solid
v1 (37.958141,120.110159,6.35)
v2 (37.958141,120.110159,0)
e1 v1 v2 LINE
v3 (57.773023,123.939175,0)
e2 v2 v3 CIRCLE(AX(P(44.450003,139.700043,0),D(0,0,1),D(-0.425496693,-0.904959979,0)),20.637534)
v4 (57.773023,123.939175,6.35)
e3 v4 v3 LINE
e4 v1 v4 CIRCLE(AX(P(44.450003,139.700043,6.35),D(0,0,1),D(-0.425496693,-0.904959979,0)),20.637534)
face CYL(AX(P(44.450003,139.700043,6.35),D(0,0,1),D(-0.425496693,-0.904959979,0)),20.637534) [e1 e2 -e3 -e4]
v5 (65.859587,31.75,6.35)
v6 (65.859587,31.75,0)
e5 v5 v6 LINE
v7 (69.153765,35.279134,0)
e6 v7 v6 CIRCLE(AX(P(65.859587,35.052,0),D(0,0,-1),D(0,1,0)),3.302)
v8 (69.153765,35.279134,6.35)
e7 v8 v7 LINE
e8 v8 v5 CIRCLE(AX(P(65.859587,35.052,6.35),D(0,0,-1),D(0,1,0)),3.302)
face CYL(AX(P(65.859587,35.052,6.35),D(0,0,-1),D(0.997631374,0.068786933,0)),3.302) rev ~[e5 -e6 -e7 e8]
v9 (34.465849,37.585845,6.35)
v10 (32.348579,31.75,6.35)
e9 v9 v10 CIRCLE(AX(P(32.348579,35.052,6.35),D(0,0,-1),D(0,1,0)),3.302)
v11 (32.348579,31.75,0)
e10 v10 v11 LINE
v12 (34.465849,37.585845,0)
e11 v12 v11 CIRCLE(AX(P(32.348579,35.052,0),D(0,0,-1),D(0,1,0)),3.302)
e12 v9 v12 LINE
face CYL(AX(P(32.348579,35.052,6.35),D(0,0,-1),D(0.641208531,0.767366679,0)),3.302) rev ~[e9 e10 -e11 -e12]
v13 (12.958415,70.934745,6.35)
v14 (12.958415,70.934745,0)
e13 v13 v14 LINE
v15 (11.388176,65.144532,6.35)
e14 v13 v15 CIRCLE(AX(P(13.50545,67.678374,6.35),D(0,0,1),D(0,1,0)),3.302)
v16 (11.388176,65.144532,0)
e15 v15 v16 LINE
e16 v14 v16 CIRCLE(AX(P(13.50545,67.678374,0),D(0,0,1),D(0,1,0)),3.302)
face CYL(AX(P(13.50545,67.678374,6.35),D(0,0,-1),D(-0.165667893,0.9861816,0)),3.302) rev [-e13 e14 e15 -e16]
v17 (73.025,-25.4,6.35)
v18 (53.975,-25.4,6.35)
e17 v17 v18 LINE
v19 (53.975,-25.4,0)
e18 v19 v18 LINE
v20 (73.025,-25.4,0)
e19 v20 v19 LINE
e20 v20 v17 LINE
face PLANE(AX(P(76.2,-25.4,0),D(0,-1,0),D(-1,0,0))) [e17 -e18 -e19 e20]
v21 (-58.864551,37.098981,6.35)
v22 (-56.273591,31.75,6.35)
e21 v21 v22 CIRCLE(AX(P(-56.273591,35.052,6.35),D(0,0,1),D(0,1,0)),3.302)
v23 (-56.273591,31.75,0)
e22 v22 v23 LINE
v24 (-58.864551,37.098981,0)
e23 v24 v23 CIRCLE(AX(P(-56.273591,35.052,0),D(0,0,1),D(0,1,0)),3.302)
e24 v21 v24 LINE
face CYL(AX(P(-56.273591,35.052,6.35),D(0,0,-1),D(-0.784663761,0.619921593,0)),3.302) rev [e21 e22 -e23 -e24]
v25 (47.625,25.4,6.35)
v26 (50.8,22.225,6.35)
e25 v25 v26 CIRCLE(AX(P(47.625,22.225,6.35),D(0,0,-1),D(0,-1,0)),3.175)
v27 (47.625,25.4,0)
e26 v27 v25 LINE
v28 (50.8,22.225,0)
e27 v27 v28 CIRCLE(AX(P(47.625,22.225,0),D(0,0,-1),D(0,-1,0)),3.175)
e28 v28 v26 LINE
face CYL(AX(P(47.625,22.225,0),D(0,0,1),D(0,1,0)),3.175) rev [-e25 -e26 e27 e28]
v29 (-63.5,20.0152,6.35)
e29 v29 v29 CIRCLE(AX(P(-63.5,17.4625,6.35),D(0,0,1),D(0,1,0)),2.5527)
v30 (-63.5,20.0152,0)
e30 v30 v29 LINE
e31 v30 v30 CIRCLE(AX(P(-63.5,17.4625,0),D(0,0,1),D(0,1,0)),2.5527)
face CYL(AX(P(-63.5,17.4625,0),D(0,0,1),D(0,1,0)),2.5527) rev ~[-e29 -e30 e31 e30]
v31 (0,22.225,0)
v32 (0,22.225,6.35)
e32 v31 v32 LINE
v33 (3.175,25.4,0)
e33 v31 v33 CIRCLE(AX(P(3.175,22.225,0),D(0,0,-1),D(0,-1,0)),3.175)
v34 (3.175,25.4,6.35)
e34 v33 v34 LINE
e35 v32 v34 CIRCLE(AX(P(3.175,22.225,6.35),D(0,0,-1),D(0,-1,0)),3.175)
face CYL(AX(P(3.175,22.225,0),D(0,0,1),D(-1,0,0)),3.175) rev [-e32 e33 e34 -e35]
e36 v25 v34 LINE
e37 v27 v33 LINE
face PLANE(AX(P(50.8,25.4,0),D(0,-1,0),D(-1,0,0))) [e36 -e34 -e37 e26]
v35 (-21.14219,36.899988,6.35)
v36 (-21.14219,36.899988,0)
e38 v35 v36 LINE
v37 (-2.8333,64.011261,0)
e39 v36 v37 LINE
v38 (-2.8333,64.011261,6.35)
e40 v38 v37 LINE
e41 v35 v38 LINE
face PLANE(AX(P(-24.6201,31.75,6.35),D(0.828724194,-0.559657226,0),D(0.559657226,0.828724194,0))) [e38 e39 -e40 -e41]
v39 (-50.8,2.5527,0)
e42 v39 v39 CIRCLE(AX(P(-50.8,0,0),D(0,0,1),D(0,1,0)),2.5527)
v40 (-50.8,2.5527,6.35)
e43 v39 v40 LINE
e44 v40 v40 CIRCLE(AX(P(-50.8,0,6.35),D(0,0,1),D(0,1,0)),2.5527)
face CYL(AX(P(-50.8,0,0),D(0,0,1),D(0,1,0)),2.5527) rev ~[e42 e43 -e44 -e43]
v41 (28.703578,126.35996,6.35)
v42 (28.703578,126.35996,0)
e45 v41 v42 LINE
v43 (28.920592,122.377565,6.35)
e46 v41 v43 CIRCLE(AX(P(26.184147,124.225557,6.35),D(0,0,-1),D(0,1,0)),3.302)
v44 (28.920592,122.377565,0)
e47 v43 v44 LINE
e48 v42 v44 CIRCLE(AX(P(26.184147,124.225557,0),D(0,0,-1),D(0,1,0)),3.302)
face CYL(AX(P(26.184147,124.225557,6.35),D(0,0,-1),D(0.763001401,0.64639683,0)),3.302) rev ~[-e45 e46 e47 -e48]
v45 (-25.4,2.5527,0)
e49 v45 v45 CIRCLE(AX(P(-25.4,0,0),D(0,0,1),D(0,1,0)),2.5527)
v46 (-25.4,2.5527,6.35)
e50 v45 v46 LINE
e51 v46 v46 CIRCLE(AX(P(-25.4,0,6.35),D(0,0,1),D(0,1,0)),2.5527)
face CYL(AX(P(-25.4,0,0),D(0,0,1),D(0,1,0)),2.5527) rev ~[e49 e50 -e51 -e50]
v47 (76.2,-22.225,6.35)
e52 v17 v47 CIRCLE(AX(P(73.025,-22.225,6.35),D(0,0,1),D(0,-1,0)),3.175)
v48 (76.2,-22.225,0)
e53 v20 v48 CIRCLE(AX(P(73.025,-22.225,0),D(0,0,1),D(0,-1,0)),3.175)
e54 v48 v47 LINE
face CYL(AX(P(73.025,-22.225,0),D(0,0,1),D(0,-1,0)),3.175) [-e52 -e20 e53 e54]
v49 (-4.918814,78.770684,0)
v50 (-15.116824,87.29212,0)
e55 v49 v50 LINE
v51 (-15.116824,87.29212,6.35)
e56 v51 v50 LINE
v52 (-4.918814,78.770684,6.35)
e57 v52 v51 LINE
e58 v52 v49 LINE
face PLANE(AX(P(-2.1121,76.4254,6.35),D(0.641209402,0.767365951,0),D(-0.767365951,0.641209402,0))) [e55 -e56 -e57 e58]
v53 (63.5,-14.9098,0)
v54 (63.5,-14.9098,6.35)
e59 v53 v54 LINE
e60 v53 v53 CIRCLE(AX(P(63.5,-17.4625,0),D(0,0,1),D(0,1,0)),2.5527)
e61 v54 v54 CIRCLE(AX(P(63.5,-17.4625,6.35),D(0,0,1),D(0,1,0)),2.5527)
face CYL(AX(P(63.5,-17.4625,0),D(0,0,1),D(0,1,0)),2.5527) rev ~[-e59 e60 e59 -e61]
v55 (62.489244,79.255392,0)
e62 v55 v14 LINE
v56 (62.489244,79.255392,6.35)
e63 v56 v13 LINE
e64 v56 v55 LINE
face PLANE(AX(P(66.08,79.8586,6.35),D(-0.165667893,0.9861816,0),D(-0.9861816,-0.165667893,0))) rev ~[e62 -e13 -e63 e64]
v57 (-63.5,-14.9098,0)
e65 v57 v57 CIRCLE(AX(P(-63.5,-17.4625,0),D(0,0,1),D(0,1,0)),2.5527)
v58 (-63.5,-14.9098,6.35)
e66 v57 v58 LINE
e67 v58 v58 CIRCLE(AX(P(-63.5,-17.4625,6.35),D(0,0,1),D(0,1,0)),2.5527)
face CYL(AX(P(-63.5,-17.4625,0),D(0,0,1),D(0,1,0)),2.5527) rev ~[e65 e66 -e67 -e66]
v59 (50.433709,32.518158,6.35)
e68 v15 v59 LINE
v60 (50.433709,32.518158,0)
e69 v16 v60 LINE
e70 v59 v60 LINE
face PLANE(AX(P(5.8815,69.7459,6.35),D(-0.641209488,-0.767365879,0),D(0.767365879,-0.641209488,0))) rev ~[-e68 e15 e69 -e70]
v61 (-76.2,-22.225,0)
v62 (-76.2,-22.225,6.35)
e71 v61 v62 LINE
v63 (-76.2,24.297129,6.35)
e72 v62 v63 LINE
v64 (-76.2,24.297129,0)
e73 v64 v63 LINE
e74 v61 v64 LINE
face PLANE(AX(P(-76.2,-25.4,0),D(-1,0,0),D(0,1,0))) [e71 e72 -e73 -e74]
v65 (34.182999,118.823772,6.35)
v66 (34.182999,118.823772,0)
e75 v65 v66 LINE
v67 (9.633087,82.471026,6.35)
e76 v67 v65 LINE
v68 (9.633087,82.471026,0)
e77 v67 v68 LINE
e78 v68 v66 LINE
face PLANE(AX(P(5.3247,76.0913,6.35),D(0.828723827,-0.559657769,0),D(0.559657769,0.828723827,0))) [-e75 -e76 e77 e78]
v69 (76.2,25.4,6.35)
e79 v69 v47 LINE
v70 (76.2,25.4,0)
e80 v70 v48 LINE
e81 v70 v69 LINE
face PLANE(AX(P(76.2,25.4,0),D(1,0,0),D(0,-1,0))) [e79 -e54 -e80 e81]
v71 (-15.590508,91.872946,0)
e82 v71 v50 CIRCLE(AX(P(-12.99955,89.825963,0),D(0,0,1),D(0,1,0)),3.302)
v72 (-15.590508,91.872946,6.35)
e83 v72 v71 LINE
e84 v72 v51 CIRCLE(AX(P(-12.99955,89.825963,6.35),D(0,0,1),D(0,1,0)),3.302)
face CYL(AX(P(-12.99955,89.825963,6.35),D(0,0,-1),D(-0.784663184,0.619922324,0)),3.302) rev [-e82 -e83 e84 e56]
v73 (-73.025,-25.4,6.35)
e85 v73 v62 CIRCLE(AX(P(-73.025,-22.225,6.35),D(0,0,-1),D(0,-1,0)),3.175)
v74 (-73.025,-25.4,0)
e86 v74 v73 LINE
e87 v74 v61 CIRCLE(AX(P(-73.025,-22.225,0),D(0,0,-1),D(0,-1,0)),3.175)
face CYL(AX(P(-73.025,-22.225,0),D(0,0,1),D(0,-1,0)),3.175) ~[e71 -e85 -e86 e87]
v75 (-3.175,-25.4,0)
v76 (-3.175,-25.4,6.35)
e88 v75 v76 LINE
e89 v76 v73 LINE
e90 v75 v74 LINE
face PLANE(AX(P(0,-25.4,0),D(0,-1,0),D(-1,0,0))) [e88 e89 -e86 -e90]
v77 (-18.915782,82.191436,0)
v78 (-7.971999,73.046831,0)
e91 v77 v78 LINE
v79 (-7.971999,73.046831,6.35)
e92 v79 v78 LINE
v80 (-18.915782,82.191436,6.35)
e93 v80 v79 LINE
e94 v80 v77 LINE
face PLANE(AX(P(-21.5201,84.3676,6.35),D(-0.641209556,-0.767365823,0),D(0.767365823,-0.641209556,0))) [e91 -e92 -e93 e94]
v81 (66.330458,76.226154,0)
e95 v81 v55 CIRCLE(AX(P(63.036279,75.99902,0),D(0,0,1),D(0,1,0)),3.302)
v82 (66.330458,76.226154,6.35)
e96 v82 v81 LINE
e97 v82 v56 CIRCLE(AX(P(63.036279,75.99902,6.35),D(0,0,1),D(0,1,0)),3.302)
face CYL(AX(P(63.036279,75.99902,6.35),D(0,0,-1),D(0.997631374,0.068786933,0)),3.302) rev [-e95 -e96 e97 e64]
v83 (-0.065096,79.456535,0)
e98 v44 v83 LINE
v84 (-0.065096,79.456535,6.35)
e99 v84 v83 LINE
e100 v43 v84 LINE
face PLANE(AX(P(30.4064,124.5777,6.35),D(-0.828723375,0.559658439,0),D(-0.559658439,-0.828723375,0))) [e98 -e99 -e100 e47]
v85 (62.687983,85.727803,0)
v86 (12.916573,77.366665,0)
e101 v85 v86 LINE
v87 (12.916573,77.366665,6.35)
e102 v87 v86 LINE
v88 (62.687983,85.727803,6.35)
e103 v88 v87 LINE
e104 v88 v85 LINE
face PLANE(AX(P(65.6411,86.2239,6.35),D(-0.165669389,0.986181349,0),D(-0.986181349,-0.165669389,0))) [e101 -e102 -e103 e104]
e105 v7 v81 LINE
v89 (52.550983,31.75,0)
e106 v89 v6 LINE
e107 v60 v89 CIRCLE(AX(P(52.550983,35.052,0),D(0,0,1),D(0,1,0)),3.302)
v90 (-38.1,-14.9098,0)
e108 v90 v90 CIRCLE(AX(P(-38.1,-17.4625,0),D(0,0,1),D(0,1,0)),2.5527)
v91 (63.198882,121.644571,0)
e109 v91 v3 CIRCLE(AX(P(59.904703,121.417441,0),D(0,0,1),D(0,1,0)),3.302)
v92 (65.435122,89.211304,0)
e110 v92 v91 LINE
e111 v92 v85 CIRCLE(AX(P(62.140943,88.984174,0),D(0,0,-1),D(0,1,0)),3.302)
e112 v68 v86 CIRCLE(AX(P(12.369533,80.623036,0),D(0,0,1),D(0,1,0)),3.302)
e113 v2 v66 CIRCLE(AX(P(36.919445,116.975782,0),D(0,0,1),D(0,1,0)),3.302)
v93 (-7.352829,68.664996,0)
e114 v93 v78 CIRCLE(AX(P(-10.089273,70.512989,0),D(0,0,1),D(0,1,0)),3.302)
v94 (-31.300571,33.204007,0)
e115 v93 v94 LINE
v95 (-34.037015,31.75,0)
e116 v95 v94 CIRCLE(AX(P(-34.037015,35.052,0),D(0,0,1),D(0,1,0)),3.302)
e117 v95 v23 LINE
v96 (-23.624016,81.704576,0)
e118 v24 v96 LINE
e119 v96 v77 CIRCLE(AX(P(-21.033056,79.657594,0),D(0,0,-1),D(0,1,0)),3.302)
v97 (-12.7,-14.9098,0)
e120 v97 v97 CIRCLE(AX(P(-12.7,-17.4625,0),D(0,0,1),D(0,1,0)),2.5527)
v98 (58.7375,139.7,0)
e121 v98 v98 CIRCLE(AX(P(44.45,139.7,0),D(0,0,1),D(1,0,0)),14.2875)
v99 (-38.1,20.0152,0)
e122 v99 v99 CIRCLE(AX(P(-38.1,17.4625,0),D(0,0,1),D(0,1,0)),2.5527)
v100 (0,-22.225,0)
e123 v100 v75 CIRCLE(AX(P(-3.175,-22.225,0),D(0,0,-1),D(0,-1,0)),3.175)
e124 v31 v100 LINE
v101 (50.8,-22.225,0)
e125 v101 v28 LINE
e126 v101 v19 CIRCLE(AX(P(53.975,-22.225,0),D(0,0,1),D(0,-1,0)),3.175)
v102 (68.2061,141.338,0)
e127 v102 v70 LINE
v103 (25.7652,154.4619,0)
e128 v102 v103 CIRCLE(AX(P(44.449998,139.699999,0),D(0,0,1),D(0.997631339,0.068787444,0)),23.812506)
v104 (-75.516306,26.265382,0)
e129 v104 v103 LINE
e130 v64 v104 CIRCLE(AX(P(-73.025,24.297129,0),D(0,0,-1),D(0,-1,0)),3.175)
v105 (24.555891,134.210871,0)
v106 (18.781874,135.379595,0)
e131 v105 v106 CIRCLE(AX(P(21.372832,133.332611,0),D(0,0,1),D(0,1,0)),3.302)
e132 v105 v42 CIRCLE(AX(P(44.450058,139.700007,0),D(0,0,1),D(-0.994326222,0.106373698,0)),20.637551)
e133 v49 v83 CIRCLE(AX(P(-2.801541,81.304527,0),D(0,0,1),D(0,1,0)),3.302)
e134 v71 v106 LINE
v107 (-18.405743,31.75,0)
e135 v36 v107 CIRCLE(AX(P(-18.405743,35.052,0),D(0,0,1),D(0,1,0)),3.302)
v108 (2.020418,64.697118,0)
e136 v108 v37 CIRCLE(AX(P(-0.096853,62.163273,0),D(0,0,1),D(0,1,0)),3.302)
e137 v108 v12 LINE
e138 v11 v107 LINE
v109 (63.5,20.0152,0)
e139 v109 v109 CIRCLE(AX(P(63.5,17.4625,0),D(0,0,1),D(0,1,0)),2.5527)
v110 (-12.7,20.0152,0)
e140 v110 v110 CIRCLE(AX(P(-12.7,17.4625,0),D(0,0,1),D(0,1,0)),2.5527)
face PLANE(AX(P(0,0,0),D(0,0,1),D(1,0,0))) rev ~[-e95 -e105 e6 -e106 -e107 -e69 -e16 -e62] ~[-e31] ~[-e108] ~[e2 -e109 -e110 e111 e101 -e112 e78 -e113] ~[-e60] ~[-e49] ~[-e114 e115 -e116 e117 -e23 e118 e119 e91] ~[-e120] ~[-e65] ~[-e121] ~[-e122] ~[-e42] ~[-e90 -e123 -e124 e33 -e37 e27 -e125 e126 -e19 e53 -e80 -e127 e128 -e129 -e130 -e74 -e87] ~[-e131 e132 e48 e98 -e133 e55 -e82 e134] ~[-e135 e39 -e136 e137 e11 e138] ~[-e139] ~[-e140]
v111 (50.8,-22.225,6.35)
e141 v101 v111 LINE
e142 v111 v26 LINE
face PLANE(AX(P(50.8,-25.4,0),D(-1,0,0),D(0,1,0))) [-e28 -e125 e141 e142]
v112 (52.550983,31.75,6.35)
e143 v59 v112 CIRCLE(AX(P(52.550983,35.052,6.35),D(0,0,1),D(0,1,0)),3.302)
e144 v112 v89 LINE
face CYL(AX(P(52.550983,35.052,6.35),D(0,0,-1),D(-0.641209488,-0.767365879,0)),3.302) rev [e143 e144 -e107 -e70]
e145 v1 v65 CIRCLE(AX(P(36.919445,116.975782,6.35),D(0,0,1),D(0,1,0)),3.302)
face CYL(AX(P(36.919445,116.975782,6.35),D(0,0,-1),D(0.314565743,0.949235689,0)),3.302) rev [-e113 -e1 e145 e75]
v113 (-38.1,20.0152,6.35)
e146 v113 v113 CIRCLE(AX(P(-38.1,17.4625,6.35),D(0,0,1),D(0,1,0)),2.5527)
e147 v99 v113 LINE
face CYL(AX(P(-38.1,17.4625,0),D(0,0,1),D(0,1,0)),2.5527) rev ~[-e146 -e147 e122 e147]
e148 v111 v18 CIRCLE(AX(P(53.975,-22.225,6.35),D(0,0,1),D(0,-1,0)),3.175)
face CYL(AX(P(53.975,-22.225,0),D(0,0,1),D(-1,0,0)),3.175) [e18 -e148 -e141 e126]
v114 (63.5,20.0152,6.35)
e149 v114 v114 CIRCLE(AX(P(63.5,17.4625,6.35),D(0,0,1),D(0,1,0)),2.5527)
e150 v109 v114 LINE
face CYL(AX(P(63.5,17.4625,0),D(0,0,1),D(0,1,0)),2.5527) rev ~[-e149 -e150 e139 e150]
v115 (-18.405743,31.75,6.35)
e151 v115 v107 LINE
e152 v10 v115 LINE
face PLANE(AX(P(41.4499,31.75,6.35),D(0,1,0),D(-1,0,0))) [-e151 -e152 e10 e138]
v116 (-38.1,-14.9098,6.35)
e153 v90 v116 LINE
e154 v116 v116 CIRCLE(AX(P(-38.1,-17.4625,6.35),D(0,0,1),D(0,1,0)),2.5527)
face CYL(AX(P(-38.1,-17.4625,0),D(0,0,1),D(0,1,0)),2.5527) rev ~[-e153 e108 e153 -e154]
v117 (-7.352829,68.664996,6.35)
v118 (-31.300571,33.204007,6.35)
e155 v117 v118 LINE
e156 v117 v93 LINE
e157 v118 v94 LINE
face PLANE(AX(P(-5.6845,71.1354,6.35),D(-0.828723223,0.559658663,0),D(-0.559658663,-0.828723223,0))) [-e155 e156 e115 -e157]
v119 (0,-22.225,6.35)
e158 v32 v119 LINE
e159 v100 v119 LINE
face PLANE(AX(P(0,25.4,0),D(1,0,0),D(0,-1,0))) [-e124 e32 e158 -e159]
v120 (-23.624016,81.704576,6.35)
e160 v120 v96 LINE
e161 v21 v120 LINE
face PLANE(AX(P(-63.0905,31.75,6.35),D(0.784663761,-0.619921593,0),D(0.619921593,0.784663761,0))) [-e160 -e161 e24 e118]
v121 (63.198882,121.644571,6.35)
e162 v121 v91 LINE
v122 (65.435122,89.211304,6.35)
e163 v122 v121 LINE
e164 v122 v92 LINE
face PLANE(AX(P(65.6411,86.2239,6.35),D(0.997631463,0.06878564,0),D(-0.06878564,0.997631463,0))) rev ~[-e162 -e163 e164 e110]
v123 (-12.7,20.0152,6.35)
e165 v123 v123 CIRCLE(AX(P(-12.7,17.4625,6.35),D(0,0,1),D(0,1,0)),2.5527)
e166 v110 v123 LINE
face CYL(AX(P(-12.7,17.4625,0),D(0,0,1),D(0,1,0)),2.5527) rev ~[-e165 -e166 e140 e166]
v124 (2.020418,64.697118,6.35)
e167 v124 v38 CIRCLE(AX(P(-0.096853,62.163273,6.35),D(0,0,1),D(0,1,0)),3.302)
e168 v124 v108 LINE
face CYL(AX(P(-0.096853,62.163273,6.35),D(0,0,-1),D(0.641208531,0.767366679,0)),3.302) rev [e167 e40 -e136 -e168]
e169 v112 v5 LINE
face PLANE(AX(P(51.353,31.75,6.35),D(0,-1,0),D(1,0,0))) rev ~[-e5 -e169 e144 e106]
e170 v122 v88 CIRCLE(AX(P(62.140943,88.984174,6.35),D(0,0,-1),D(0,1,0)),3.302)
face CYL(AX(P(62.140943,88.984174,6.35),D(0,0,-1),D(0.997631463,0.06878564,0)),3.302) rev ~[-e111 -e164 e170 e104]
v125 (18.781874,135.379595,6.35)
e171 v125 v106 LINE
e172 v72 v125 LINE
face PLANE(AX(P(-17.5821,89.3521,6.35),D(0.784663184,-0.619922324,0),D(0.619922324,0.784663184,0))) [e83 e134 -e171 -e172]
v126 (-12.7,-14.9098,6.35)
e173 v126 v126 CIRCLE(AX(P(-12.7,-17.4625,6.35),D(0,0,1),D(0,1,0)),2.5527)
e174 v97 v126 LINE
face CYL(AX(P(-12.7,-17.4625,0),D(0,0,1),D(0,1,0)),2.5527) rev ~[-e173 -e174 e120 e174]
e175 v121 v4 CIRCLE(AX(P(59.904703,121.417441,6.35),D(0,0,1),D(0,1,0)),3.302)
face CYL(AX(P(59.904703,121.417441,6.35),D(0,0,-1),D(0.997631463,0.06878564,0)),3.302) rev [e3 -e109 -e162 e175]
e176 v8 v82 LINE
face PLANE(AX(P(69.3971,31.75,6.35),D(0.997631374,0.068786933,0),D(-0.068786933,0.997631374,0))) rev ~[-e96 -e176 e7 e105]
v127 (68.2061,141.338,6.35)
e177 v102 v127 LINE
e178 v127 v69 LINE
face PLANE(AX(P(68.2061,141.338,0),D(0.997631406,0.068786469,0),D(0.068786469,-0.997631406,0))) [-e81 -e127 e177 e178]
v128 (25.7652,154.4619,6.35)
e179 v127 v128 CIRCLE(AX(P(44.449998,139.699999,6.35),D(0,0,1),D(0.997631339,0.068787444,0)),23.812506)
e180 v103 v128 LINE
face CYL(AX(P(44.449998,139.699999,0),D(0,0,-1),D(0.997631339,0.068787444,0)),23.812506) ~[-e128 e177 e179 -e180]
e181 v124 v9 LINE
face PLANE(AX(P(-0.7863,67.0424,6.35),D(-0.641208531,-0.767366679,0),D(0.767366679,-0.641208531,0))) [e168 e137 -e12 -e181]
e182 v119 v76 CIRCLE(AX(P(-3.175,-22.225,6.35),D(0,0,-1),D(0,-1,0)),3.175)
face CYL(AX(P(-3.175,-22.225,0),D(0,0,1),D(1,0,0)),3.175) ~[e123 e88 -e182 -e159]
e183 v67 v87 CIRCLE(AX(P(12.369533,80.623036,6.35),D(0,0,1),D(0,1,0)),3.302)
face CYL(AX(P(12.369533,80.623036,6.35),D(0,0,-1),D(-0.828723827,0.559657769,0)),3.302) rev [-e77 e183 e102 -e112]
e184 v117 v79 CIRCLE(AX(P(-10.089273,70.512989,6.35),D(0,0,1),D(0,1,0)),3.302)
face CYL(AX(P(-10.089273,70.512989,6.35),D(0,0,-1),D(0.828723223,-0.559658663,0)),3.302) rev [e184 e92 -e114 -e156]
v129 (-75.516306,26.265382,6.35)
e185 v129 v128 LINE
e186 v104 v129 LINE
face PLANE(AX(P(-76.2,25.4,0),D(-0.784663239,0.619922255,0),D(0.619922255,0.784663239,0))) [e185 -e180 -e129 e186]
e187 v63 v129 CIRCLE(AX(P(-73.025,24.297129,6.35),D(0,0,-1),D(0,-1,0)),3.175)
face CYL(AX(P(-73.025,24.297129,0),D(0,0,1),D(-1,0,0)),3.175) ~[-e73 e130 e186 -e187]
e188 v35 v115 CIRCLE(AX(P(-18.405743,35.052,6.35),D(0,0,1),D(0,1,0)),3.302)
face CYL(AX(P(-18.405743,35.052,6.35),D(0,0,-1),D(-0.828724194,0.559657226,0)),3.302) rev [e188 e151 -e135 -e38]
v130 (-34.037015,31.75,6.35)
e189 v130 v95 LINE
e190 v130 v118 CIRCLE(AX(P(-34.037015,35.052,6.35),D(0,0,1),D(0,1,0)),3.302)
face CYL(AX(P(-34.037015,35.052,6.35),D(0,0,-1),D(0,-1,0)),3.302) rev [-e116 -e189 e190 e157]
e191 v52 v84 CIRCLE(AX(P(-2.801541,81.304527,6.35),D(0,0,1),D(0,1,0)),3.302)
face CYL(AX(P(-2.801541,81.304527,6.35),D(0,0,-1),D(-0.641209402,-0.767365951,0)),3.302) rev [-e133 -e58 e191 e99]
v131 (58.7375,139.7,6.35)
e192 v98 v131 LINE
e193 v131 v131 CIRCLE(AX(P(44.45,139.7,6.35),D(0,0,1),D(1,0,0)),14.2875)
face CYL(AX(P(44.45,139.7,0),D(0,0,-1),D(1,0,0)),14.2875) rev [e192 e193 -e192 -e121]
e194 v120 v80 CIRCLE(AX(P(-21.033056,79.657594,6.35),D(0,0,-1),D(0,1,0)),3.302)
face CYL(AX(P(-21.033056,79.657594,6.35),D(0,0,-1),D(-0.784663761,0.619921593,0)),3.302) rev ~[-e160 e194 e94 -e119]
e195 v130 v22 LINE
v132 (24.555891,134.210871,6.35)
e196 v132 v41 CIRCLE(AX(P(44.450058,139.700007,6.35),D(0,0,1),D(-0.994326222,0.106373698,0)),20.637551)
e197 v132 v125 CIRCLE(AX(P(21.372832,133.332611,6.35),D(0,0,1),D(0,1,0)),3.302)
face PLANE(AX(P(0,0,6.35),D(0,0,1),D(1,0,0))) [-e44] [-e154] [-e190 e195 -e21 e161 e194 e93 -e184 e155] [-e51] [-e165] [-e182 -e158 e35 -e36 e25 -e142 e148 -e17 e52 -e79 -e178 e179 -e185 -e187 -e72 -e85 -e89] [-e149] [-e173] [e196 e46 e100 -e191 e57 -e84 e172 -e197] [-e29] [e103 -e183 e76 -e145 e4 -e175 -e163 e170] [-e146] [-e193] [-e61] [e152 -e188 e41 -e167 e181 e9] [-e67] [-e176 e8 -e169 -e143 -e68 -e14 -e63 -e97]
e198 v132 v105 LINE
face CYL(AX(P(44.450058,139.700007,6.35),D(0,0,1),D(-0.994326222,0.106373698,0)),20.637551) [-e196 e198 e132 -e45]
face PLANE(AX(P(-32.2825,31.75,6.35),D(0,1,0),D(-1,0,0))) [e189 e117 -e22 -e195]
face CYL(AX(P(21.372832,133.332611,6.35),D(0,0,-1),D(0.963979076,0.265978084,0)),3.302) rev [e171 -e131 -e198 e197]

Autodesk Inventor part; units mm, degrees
ref_plane "YZ Plane" through (0, 0, 0) normal (1, 0, 0) x (0, 1, 0)
ref_plane "XZ Plane" through (0, 0, 0) normal (0, 1, 0) x (-1, 0, 0)
ref_plane "XY Plane" through (0, 0, 0) normal (0, 0, 1) x (1, 0, 0)
sketch "Sketch1" plane through (0, 0, 0) normal (0, 0, 1) x (1, 0, 0)
  line L0 (-76.2, 25.4) -> (76.2, 25.4) construction
  line L1 (76.2, 25.4) -> (76.2, -25.4) construction
  line L2 (76.2, -25.4) -> (-76.2, -25.4) construction
  line L3 (-76.2, -25.4) -> (-76.2, 25.4) construction
  line L4 (-76.2, 25.4) -> (76.2, -25.4) construction
  line L5 (76.2, 25.4) -> (-76.2, -25.4) construction
  line L6 (63.5, 17.4625) -> (63.5, -17.4625) construction
  line L7 (9.525, 15.875) -> (41.275, 15.875) construction
  line L8 (41.275, 15.875) -> (41.275, -15.875) construction
  line L9 (41.275, -15.875) -> (9.525, -15.875) construction
  line L10 (9.525, -15.875) -> (9.525, 15.875) construction
  line L11 (9.525, 15.875) -> (41.275, -15.875) construction
  line L12 (41.275, 15.875) -> (9.525, -15.875) construction
  line L13 (76.2, 101.6) -> (187.452, 101.6) construction
  line L14 (187.452, 101.6) -> (187.452, -25.4) construction
  line L15 (187.452, -25.4) -> (76.2, -25.4) construction
  line L16 (76.2, -25.4) -> (76.2, 101.6) construction
  line L17 (76.2, 101.6) -> (187.452, -25.4) construction
  line L18 (187.452, 101.6) -> (76.2, -25.4) construction
  point P0 (0, 0)
  point P1 (63.5, 0)
  point P2 (25.4, 0)
  point P3 (50.8, 0)
  point P4 (0, 0)
  point P5 (9.525, 0)
  point P6 (-12.7, 17.4625)
  point P7 (-12.7, -17.4625)
  point P8 (-25.4, 0)
  point P9 (-38.1, 17.4625)
  point P10 (-38.1, -17.4625)
  point P11 (-50.8, 0)
  point P12 (-63.5, 17.4625)
  point P13 (-63.5, -17.4625)
  point P14 (131.826, 38.1)
  dimension "d0" = 152.4
  dimension "d1" = 50.8
  dimension "d2" = 34.925
  dimension "d3" = 12.7
  dimension "d4" = 31.75
  dimension "d5" = 31.75
  dimension "d6" = 34.925
  dimension "d7" = 25.4
  dimension "d8" = 9.525
  dimension "d9" = 12.7
  dimension "d10" = 12.7
  dimension "d11" = 12.7
  dimension "d12" = 12.7
  dimension "d13" = 12.7
  dimension "d14" = 111.252
  dimension "d15" = 127
  dimension "d16" = 76.2
sketch "Sketch2" plane through (0, 0, 0) normal (0, 0, 1) x (1, 0, 0)
  line L0 (63.5, 17.4625) -> (63.5, -17.4625) construction
  line L1 (76.2, 25.4) -> (76.2, -25.4) construction
  line L2 (76.2, -25.4) -> (76.2, 101.6) construction
  line L3 (187.452, -25.4) -> (76.2, -25.4) construction
  line L4 (187.452, 101.6) -> (187.452, -25.4) construction
  line L5 (76.2, 101.6) -> (187.452, -25.4) construction
  line L6 (187.452, 101.6) -> (76.2, -25.4) construction
  line L7 (76.2, 101.6) -> (187.452, 101.6) construction
  line L8 (9.525, 15.875) -> (41.275, 15.875) construction
  line L9 (41.275, 15.875) -> (41.275, -15.875) construction
  line L10 (41.275, -15.875) -> (9.525, -15.875) construction
  line L11 (9.525, -15.875) -> (9.525, 15.875) construction
  line L12 (9.525, 15.875) -> (41.275, -15.875) construction
  line L13 (41.275, 15.875) -> (9.525, -15.875) construction
  line L14 (-76.2, 25.4) -> (76.2, 25.4) construction
  line L15 (76.2, -25.4) -> (-76.2, -25.4) construction
  line L16 (-76.2, 25.4) -> (76.2, -25.4) construction
  line L17 (76.2, 25.4) -> (-76.2, -25.4) construction
  line L18 (-76.2, -25.4) -> (-76.2, 25.4) construction
  line L19 (0, 25.4) -> (0, -25.4)
  line L20 (0, -25.4) -> (-76.2, -25.4)
  line L21 (-76.2, -25.4) -> (-76.2, 25.4)
  line L22 (-76.2, 25.4) -> (25.7652, 154.4619)
  circle A0 centre (44.45, 139.7) radius 14.2875
  circle A1 centre (44.45, 139.7) radius 23.8125 construction
  line L23 (68.2061, 141.338) -> (76.2, 25.4)
  line L24 (76.2, 25.4) -> (76.2, -25.4)
  line L25 (76.2, -25.4) -> (50.8, -25.4)
  line L26 (50.8, -25.4) -> (50.8, 25.4)
  line L27 (50.8, 25.4) -> (0, 25.4)
  arc A2 (68.2061, 141.338) -> (25.7652, 154.4619) centre (44.45, 139.7) ccw
  point P0 (0, 0)
  point P1 (63.5, 0)
  point P2 (131.826, 38.1)
  point P3 (9.525, 0)
  point P4 (0, 0)
  point P5 (25.4, 0)
  point P6 (-63.5, -17.4625)
  point P7 (-63.5, 17.4625)
  point P8 (-50.8, 0)
  point P9 (-38.1, -17.4625)
  point P10 (-38.1, 17.4625)
  point P11 (-25.4, 0)
  point P12 (-12.7, -17.4625)
  point P13 (-12.7, 17.4625)
  point P14 (0, 0)
  point P15 (50.8, 0)
  point P16 (0, 0)
  dimension "d17" = 28.575
  dimension "d18" = 9.525
  dimension "d20" = 9.525
  dimension "d21" = 9.525
  dimension "d31" = 165.1
  dimension "d32" = 19.05
extrude "Extrusion1" add sketch "Sketch2" along normal blind 6.35
hole "Hole1" at (76.2, 101.6, 0) at (131.826, 38.1, 0) at (187.452, -25.4, 0) at (9.525, 0, 0) at (9.525, 15.875, 0) at (41.275, -15.875, 0) at (41.275, 15.875, 0) at (9.525, -15.875, 0) at (25.4, 0, 0) at (-63.5, -17.4625, 0) at (-63.5, 17.4625, 0) at (-50.8, 0, 0) at (-38.1, -17.4625, 0) at (-38.1, 17.4625, 0) at (-25.4, 0, 0) at (-12.7, -17.4625, 0) at (-12.7, 17.4625, 0) at (63.5, 17.4625, 0) at (63.5, -17.4625, 0) direction (0, 0, 1) diameter 5.1054 end through all clearance for "Flat Head Machine Screw (82)" size "#10" standard "Ansi Unified Screw Threads"
fillet "Fillet1" radius 3.175 7 edges at (50.8, 25.4, 3.175) (0, 25.4, 3.175) (0, -25.4, 3.175) (50.8, -25.4, 3.175) (76.2, -25.4, 3.175) (-76.2, -25.4, 3.175) (-76.2, 25.4, 3.175)
sketch "Sketch3" plane through (0, 0, 6.35) normal (0, 0, 1) x (1, 0, 0)
  circle A0 centre (63.5, 17.4625) radius 2.5527 construction
  circle A1 centre (-12.7, -17.4625) radius 2.5527 construction
  circle A2 centre (-38.1, 17.4625) radius 2.5527 construction
  circle A3 centre (-50.8, 0) radius 2.5527 construction
  circle A4 centre (-63.5, -17.4625) radius 2.5527 construction
  circle A5 centre (-63.5, 17.4625) radius 2.5527 construction
  circle A6 centre (-38.1, -17.4625) radius 2.5527 construction
  circle A7 centre (-25.4, 0) radius 2.5527 construction
  circle A8 centre (-12.7, 17.4625) radius 2.5527 construction
  circle A9 centre (63.5, -17.4625) radius 2.5527 construction
  circle A10 centre (44.45, 139.7) radius 14.2875 construction
  arc A11 (68.2061, 141.338) -> (25.7652, 154.4619) centre (44.45, 139.7) ccw construction
  line L0 (68.2061, 141.338) -> (76.2, 25.4) construction
  line L1 (76.2, 25.4) -> (76.2, -22.225) construction
  arc A12 (73.025, -25.4) -> (76.2, -22.225) centre (73.025, -22.225) ccw construction
  line L2 (73.025, -25.4) -> (53.975, -25.4) construction
  arc A13 (50.8, -22.225) -> (53.975, -25.4) centre (53.975, -22.225) ccw construction
  line L3 (50.8, -22.225) -> (50.8, 22.225) construction
  arc A14 (50.8, 22.225) -> (47.625, 25.4) centre (47.625, 22.225) ccw construction
  line L4 (47.625, 25.4) -> (3.175, 25.4) construction
  arc A15 (3.175, 25.4) -> (0, 22.225) centre (3.175, 22.225) ccw construction
  line L5 (0, 22.225) -> (0, -22.225) construction
  arc A16 (-3.175, -25.4) -> (0, -22.225) centre (-3.175, -22.225) ccw construction
  line L6 (-3.175, -25.4) -> (-73.025, -25.4) construction
  arc A17 (-76.2, -22.225) -> (-73.025, -25.4) centre (-73.025, -22.225) ccw construction
  line L7 (-76.2, -22.225) -> (-76.2, 24.2971) construction
  arc A18 (-75.5163, 26.2654) -> (-76.2, 24.2971) centre (-73.025, 24.2971) ccw construction
  line L8 (-75.5163, 26.2654) -> (25.7652, 154.4619) construction
  circle A19 centre (44.45, 139.7) radius 20.6375 construction
  line L9 (69.85, 25.1813) -> (61.8711, 140.9012) construction
  arc A20 (61.8711, 140.9012) -> (30.7478, 150.5254) centre (44.45, 139.7) ccw construction
  line L10 (30.7478, 150.5254) -> (-69.85, 23.1943) construction
  line L11 (-69.85, 23.1943) -> (-69.85, -19.05) construction
  line L12 (-69.85, -19.05) -> (-6.35, -19.05) construction
  line L13 (-6.35, -19.05) -> (-6.35, 22.225) construction
  arc A21 (3.175, 31.75) -> (-6.35, 22.225) centre (3.175, 22.225) ccw construction
  line L14 (3.175, 31.75) -> (47.625, 31.75) construction
  arc A22 (57.15, 22.225) -> (47.625, 31.75) centre (47.625, 22.225) ccw construction
  line L15 (57.15, 22.225) -> (57.15, -19.05) construction
  line L16 (57.15, -19.05) -> (69.85, -19.05) construction
  line L17 (69.85, -19.05) -> (69.85, 25.1813) construction
  line L18 (3.175, 31.75) -> (-63.0905, 31.75) construction
  line L19 (47.625, 31.75) -> (69.3971, 31.75) construction
  circle A23 centre (-38.1, 17.4625) radius 2.5527 construction
  line L20 (-38.1, 17.4625) -> (44.45, 139.7) construction
  circle A24 centre (63.5, 17.4625) radius 2.5527 construction
  line L21 (63.5, 17.4625) -> (-19.5511, 86.8598) construction
  line L22 (65.8606, 83.0413) -> (-1.4492, 71.7339) construction
  line L23 (65.6411, 86.2239) -> (5.3247, 76.0913) construction
  line L24 (-24.6201, 31.75) -> (58.4936, 154.8223) construction
  line L25 (-32.2825, 31.75) -> (30.4064, 124.5777) construction
  line L26 (41.4499, 31.75) -> (-21.5201, 84.3676) construction
  line L27 (51.353, 31.75) -> (-17.5821, 89.3521) construction
  line L28 (66.08, 79.8586) -> (5.8815, 69.7459) construction
  line L29 (65.6411, 86.2239) -> (5.3247, 76.0913)
  line L30 (5.3247, 76.0913) -> (35.6688, 121.0239)
  line L31 (65.6411, 86.2239) -> (62.6277, 129.9287)
  arc A25 (35.6688, 121.0239) -> (62.6277, 129.9287) centre (44.45, 139.7) ccw
  line L32 (66.08, 79.8586) -> (5.8815, 69.7459)
  line L33 (5.8815, 69.7459) -> (51.353, 31.75)
  line L34 (51.353, 31.75) -> (69.3971, 31.75)
  line L35 (69.3971, 31.75) -> (66.08, 79.8586)
  line L36 (41.4499, 31.75) -> (-24.6201, 31.75)
  line L37 (-24.6201, 31.75) -> (-0.7863, 67.0424)
  line L38 (-0.7863, 67.0424) -> (41.4499, 31.75)
  line L39 (30.4064, 124.5777) -> (-2.1121, 76.4254)
  line L40 (-2.1121, 76.4254) -> (-17.5821, 89.3521)
  line L41 (-17.5821, 89.3521) -> (23.9296, 141.8953)
  arc A26 (23.9296, 141.8953) -> (30.4064, 124.5777) centre (44.45, 139.7) ccw
  line L42 (-21.5201, 84.3676) -> (-5.6845, 71.1354)
  line L43 (-5.6845, 71.1354) -> (-32.2825, 31.75)
  line L44 (-32.2825, 31.75) -> (-63.0905, 31.75)
  line L45 (-63.0905, 31.75) -> (-21.5201, 84.3676)
  point P0 (0, 0)
  dimension "d34" = 6.35
  dimension "d35" = 6.35
  dimension "d36" = 3.175
  dimension "d37" = 3.175
  dimension "d38" = 3.175
  dimension "d39" = 3.175
  dimension "d40" = 3.175
  dimension "d41" = 3.175
extrude "Extrusion2" cut sketch "Sketch3" against normal through all
fillet "Fillet2" radius 3.302 19 edges at (-21.5201, 84.3676, 3.175) (-63.0905, 31.75, 3.175) (-32.2825, 31.75, 3.175) (-5.6845, 71.1354, 3.175) (-0.7863, 67.0424, 3.175) (-24.6201, 31.75, 3.175) (41.4499, 31.75, 3.175) (30.4064, 124.5777, 3.175) (23.9296, 141.8953, 3.175) (-17.5821, 89.3521, 3.175) (-2.1121, 76.4254, 3.175) (66.08, 79.8586, 3.175) (5.8815, 69.7459, 3.175) (51.353, 31.75, 3.175) (69.3971, 31.75, 3.175) (65.6411, 86.2239, 3.175) (62.6277, 129.9287, 3.175) (35.6688, 121.0239, 3.175) (5.3247, 76.0913, 3.175)
equation "\"d34\" = off"
equation "\"d35\" = off"
equation "\"d36\" = 0.5 * off"
equation "\"d37\" = 0.5 * off"
equation "\"d38\" = 0.5 * off"
equation "\"d39\" = 0.5 * off"
equation "\"d40\" = 0.5 * off"
equation "\"d41\" = 0.5 * off"
equation "\"off\" = 6.35"
properties part number "CL3-004" material "Aluminum 6061"
